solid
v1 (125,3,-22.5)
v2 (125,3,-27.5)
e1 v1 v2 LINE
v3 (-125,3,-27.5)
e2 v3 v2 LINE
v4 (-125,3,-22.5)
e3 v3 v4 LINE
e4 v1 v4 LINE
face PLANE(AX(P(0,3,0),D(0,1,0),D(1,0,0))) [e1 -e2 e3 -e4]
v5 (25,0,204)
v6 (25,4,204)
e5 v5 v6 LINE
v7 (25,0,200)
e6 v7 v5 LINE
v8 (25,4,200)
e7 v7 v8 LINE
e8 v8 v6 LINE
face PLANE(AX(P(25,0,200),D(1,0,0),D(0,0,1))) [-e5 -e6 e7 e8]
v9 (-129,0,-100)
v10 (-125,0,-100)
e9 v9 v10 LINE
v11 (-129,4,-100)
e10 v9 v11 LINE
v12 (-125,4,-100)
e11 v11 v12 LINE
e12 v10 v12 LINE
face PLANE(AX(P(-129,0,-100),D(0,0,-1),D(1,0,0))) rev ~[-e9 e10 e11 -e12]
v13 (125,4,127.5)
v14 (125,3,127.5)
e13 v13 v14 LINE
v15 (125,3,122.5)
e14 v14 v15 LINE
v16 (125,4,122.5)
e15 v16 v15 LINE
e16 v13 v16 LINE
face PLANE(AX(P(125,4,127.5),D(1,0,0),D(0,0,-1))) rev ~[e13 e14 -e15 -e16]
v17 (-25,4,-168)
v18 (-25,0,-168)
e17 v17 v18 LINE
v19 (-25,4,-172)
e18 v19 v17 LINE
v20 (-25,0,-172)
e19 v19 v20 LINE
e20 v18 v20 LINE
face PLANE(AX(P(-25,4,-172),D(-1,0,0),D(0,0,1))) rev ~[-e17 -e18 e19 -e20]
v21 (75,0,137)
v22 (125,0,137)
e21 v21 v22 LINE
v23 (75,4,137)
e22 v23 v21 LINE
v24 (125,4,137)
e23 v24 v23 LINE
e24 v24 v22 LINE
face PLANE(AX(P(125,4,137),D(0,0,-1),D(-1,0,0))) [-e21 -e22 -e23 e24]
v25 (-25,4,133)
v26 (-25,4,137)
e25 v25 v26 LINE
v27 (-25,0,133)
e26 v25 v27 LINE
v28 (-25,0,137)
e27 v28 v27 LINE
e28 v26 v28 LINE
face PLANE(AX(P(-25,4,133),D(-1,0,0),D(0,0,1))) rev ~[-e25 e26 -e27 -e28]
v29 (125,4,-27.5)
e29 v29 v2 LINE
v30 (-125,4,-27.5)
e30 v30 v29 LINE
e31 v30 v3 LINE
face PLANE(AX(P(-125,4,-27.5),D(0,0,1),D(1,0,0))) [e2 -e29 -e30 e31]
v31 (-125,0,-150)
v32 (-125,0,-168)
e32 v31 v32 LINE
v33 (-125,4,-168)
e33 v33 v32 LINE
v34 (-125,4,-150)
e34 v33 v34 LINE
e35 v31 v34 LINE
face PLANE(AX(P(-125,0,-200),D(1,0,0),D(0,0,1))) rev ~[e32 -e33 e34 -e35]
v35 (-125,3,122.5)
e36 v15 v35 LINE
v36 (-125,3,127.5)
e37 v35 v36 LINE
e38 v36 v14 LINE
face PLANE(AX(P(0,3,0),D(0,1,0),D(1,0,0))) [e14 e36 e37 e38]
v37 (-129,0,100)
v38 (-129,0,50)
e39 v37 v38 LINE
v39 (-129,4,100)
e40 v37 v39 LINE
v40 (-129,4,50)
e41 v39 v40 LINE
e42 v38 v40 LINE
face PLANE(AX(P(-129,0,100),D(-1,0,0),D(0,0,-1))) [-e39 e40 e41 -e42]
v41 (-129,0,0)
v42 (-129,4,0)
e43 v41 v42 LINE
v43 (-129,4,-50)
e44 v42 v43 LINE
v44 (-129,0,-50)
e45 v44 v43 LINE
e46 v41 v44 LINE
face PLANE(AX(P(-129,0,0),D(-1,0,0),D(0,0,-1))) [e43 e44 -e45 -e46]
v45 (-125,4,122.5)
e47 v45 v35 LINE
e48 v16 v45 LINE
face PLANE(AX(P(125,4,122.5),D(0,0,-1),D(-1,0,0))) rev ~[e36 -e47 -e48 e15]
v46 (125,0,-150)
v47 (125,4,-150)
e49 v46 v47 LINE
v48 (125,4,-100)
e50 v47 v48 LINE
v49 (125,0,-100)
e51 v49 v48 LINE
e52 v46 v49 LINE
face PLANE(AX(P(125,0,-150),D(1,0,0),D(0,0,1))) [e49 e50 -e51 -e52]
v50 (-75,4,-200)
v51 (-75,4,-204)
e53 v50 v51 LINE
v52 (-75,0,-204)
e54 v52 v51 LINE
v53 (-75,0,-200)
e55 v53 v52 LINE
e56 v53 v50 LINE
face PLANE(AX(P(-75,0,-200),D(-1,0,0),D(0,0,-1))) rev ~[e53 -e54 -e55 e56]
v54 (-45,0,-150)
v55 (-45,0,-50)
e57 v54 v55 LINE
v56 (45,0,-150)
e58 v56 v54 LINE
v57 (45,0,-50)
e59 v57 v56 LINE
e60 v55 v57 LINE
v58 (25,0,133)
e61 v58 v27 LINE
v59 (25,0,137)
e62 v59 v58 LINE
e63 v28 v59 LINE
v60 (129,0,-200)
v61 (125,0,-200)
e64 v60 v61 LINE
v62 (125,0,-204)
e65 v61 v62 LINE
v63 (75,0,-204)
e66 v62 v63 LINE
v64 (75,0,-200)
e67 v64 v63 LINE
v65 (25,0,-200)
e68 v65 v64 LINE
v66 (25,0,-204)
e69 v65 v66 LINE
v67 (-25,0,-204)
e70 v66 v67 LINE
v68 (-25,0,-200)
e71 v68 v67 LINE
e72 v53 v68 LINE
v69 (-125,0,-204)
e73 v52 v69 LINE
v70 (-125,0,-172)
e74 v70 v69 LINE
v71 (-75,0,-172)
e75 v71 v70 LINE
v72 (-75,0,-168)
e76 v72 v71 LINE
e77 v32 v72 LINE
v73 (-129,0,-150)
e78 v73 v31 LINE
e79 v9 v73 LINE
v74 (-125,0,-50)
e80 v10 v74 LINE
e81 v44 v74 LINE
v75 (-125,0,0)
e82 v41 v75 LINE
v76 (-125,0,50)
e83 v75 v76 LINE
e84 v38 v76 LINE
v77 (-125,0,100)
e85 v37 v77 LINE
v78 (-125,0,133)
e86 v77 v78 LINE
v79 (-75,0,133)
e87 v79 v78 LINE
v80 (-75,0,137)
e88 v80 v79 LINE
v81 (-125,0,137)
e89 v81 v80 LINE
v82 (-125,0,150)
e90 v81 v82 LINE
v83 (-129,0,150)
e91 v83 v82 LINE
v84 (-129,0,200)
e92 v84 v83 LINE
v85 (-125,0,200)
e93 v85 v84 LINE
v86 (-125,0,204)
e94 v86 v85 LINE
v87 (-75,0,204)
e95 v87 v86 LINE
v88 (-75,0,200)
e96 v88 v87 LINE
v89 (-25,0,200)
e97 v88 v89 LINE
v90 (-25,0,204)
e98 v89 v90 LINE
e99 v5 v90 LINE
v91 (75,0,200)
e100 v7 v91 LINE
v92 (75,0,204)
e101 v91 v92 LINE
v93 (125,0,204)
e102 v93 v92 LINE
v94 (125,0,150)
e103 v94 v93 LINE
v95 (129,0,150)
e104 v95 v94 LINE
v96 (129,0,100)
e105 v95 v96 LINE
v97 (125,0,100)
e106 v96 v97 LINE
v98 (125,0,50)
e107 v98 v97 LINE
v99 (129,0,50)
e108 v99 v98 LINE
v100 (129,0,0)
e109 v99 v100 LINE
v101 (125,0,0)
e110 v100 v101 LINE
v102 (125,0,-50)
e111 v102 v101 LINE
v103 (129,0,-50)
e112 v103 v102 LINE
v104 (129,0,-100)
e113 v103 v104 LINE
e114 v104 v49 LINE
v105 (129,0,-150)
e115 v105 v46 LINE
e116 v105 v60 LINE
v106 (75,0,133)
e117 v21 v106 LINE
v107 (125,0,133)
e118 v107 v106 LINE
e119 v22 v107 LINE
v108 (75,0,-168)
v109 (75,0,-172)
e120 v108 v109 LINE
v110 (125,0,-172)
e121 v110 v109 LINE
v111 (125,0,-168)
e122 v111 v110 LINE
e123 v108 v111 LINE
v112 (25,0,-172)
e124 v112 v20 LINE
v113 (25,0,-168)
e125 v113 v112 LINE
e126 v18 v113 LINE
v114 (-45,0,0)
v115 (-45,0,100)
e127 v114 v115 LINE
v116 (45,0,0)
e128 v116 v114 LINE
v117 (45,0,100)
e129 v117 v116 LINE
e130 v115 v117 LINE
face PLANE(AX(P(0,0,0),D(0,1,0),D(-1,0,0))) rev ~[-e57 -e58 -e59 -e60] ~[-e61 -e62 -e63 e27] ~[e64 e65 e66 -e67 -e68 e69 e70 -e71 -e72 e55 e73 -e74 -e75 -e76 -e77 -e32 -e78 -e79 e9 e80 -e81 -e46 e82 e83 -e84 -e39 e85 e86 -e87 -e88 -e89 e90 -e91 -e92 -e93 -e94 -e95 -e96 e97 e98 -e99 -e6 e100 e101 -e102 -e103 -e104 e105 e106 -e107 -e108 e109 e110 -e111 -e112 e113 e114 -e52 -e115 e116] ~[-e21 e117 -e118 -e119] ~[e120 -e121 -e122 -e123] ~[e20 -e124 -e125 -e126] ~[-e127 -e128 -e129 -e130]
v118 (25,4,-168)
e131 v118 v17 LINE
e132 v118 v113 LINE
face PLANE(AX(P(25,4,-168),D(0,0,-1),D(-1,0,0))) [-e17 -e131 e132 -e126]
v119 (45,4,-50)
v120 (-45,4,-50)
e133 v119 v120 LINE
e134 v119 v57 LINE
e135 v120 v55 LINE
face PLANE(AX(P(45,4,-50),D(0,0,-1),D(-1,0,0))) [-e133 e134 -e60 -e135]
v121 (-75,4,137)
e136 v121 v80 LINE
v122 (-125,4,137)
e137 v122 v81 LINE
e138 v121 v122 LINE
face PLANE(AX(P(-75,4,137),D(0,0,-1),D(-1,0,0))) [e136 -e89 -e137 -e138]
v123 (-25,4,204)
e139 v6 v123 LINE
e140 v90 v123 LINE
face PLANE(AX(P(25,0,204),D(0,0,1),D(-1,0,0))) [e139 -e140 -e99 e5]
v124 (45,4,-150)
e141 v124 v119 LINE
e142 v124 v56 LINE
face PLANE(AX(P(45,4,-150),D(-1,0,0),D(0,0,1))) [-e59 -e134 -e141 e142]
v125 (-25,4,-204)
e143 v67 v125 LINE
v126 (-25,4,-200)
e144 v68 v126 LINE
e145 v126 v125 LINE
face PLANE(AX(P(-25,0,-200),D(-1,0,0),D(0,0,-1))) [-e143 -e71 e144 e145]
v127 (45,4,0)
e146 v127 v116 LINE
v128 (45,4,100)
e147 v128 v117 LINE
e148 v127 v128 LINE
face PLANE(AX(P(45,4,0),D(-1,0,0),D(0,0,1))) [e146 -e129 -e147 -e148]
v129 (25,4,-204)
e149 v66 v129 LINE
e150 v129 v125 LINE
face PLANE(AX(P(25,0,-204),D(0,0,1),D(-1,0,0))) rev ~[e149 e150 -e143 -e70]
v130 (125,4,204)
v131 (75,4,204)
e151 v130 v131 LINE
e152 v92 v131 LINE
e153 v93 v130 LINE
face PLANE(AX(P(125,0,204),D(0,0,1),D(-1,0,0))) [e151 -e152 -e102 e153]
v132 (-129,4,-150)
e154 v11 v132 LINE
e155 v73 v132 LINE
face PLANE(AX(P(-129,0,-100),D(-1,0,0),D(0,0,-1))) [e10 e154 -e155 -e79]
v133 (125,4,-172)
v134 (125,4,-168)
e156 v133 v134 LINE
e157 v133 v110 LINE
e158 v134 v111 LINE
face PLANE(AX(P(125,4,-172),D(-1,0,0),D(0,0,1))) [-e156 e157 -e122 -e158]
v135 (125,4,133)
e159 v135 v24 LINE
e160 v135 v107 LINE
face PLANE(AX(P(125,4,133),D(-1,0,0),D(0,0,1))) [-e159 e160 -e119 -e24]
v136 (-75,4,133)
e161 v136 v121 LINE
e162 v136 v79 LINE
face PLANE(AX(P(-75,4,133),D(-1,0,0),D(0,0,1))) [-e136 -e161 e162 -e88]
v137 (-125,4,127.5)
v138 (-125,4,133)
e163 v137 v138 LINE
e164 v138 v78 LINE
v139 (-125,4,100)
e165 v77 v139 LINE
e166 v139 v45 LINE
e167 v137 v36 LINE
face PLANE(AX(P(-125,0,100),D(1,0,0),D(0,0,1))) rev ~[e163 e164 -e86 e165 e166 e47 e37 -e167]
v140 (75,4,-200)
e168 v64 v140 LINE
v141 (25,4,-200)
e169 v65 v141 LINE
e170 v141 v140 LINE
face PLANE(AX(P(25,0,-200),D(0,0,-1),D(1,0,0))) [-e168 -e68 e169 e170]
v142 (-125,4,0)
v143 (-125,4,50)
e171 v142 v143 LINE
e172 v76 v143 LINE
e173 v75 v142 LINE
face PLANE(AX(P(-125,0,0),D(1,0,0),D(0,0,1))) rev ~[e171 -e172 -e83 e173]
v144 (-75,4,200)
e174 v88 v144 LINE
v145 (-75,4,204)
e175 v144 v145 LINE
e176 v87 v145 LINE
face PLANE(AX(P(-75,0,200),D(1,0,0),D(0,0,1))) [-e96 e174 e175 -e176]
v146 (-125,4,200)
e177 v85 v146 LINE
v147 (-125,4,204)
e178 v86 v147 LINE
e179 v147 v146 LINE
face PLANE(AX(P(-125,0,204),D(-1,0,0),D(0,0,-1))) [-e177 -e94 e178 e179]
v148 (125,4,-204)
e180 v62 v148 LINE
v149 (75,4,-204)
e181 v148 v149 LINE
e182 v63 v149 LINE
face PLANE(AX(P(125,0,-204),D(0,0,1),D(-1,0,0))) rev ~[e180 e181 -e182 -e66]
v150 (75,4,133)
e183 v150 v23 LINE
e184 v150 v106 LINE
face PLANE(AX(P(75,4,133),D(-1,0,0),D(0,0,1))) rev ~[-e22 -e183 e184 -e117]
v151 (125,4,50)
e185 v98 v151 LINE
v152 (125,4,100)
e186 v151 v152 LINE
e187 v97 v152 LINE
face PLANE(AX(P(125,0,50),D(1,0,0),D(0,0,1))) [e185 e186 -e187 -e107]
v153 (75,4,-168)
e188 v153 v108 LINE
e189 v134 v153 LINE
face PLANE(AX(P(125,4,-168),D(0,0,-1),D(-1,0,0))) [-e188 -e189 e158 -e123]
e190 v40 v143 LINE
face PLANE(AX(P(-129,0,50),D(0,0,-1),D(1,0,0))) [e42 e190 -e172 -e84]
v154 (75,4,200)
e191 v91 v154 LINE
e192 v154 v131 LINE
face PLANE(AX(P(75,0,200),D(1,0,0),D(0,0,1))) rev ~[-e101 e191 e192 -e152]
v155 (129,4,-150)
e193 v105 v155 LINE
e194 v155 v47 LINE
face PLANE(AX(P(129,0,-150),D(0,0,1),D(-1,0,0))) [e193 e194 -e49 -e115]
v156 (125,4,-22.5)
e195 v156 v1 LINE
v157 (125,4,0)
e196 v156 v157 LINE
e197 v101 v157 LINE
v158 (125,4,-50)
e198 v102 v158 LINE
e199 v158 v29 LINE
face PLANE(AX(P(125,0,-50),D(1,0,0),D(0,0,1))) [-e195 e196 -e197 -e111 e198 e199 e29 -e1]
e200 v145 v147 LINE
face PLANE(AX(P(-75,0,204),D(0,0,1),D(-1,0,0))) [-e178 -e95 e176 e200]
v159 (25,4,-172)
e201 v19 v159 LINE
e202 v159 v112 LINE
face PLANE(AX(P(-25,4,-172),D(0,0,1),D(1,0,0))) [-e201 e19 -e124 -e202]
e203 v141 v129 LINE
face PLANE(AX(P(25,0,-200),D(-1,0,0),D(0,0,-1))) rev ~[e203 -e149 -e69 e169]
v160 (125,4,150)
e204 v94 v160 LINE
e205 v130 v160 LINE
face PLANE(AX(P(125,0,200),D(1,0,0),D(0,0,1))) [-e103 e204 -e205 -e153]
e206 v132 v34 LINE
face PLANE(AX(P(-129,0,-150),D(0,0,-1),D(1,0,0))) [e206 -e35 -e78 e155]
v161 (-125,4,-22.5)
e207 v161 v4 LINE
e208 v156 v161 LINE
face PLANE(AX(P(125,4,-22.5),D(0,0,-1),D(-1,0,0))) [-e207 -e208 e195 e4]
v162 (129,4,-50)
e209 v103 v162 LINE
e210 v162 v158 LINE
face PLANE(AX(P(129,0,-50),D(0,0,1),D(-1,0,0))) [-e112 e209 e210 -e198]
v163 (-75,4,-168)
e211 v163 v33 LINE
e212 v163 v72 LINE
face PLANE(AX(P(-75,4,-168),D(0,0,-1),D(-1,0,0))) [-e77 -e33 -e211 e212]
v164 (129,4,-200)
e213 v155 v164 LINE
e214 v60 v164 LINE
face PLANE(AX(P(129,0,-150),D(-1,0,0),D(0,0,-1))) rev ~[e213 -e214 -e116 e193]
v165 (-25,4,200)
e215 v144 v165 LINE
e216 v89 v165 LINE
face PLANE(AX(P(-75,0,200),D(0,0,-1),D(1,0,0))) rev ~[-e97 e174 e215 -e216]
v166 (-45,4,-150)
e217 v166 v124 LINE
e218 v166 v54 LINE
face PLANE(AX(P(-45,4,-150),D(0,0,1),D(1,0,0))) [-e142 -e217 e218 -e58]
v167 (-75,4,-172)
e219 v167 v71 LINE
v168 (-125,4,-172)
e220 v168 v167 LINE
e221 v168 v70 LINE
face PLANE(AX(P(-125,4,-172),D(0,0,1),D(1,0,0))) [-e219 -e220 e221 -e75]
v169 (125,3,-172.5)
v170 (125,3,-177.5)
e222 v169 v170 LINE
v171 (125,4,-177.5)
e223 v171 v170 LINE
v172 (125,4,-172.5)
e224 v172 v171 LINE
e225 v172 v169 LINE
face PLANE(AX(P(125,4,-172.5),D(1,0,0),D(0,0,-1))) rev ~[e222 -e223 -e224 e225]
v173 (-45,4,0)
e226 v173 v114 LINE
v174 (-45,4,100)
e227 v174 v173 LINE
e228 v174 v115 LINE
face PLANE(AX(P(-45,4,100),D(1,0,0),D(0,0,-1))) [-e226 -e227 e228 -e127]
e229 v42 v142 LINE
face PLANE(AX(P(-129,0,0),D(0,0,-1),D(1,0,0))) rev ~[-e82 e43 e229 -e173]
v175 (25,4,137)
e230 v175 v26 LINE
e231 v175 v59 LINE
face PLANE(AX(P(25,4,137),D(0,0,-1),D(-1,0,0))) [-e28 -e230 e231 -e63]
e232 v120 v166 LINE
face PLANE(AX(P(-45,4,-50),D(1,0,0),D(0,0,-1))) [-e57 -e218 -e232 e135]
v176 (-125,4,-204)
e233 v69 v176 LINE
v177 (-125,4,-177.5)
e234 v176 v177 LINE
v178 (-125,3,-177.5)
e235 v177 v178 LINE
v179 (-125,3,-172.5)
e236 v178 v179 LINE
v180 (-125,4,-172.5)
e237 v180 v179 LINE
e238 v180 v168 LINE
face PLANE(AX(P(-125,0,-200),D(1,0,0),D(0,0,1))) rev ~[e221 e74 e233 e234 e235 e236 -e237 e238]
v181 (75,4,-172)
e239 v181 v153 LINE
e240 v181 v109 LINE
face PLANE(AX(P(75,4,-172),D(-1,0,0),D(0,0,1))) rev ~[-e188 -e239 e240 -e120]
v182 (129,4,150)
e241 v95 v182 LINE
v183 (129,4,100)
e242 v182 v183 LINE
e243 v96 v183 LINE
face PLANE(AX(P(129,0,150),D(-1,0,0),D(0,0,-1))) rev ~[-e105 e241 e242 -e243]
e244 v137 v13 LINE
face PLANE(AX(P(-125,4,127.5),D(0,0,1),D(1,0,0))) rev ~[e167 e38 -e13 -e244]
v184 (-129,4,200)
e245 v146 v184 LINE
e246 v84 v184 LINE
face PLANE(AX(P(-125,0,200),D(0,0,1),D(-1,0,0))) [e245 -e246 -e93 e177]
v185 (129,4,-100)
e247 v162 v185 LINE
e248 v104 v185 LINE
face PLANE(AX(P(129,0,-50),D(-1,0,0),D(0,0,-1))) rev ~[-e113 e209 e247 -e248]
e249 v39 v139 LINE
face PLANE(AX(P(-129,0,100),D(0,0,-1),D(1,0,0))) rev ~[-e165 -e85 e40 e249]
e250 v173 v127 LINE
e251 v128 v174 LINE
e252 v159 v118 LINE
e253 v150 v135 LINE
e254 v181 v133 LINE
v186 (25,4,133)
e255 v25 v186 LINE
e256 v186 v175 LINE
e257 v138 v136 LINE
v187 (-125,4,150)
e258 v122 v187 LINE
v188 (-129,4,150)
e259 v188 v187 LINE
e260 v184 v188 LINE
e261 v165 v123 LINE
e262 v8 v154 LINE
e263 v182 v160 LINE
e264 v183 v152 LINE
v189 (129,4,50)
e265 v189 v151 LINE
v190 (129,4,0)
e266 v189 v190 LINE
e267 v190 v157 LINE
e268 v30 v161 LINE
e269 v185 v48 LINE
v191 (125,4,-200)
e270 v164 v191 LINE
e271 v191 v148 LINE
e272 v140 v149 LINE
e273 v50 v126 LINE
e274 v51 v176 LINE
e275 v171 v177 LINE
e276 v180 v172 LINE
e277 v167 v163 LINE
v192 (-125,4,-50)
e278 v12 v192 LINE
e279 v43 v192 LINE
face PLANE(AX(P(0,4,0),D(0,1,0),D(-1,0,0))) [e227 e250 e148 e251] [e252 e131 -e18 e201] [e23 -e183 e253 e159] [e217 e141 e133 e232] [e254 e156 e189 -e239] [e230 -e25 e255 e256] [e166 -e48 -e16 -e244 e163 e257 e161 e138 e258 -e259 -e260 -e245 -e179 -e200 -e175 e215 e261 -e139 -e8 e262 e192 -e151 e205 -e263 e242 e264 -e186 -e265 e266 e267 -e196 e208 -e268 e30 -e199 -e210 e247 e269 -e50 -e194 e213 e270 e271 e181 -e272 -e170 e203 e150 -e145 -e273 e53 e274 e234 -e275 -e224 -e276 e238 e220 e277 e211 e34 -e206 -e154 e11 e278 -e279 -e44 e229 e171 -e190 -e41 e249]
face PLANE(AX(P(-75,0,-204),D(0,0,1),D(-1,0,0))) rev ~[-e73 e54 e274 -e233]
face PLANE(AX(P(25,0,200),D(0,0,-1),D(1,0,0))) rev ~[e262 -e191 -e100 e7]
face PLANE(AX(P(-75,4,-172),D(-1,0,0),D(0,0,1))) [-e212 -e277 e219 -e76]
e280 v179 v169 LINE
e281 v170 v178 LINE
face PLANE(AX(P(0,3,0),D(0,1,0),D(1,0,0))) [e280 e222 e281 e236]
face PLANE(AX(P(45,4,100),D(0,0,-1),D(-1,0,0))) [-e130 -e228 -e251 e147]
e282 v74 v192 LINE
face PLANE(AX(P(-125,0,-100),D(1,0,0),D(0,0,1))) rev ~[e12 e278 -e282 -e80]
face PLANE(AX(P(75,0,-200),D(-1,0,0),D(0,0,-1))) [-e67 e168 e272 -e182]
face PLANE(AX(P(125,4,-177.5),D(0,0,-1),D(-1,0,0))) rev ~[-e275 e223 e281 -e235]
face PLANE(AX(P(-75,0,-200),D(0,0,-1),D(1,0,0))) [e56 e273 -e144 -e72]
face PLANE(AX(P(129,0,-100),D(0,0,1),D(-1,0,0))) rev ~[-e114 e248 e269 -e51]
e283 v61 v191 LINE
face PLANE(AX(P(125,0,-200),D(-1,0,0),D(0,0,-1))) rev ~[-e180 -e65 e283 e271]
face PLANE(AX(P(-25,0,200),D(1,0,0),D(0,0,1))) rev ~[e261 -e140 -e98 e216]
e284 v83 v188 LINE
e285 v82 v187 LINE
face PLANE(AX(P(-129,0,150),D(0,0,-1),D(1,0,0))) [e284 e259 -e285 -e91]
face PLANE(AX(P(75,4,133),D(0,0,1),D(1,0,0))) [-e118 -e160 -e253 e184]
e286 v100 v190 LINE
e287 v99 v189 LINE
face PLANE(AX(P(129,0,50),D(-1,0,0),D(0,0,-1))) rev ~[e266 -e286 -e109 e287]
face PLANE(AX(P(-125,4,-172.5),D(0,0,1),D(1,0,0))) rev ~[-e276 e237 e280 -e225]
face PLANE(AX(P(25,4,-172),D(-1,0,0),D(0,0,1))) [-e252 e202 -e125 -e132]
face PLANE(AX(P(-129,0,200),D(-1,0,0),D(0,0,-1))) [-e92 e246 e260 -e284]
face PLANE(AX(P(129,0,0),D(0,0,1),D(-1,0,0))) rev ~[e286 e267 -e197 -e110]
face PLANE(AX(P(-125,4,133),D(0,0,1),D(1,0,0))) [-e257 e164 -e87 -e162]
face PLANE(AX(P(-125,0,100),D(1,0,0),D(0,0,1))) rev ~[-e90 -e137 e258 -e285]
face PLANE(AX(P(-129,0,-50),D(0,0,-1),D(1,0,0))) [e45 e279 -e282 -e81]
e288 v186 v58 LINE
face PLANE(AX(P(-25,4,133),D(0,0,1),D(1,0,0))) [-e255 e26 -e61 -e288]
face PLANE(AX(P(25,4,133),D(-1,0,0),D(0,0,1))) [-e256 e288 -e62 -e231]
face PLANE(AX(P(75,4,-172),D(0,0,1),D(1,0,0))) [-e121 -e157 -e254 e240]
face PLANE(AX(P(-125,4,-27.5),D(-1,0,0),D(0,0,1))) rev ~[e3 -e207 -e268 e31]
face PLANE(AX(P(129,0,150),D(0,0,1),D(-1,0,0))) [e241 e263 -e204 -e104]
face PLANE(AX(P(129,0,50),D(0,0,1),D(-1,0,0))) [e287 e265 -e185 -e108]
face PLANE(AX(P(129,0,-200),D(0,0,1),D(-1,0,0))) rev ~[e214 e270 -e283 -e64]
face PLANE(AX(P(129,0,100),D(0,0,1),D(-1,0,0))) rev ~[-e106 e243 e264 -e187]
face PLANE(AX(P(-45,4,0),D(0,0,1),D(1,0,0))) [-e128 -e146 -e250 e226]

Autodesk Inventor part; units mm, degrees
ref_plane "YZ Plane" through (0, 0, 0) normal (1, 0, 0) x (0, 1, 0)
ref_plane "XZ Plane" through (0, 0, 0) normal (0, 1, 0) x (-1, 0, 0)
ref_plane "XY Plane" through (0, 0, 0) normal (0, 0, 1) x (1, 0, 0)
sketch "Sketch1" plane through (0, 0, 0) normal (0, 1, 0) x (-1, 0, 0)
  line L0 (-125, 200) -> (125, 200) construction
  line L1 (125, 200) -> (125, -200) construction
  line L2 (125, -200) -> (-125, -200) construction
  line L3 (-125, -200) -> (-125, 200) construction
  line L4 (-125, 200) -> (125, -200) construction
  line L5 (125, 200) -> (-125, -200) construction
  line L6 (125, 200) -> (75, 200) construction
  line L7 (75, 200) -> (75, 204)
  line L8 (75, 204) -> (125, 204)
  line L9 (125, 204) -> (125, 200)
  line L10 (125, 200) -> (129, 200)
  line L11 (129, 200) -> (129, 150)
  line L12 (129, 150) -> (125, 150)
  line L13 (125, 150) -> (125, 200) construction
  line L14 (-125, 200) -> (-129, 200) construction
  line L15 (-129, 200) -> (-129, 150) construction
  line L16 (-129, 150) -> (-125, 150)
  line L17 (-125, 150) -> (-125, 200)
  line L18 (125, -200) -> (75, -200) construction
  line L19 (75, -200) -> (75, -204)
  line L20 (75, -204) -> (125, -204)
  line L21 (125, -204) -> (125, -200)
  line L22 (125, 100) -> (125, 150)
  line L23 (125, 150) -> (129, 150)
  line L24 (129, 100) -> (125, 100)
  line L25 (129, 150) -> (129, 100) construction
  line L26 (-125, 100) -> (-125, 150) construction
  line L27 (-125, 150) -> (-129, 150)
  line L28 (-129, 150) -> (-129, 100)
  line L29 (-129, 100) -> (-125, 100)
  line L30 (125, 50) -> (125, 100) construction
  line L31 (125, 100) -> (129, 100)
  line L32 (129, 50) -> (125, 50)
  line L33 (129, 100) -> (129, 50)
  line L34 (-125, 50) -> (-125, 100)
  line L35 (-125, 100) -> (-129, 100)
  line L36 (-129, 100) -> (-129, 50) construction
  line L37 (-129, 50) -> (-125, 50)
  line L38 (125, 0) -> (125, 50)
  line L39 (125, 50) -> (129, 50)
  line L40 (129, 0) -> (125, 0)
  line L41 (129, 50) -> (129, 0) construction
  line L42 (-125, 0) -> (-125, 50) construction
  line L43 (-125, 50) -> (-129, 50)
  line L44 (-129, 50) -> (-129, 0)
  line L45 (-129, 0) -> (-125, 0)
  line L46 (125, -50) -> (125, 0) construction
  line L47 (125, 0) -> (129, 0)
  line L48 (129, -50) -> (125, -50)
  line L49 (129, 0) -> (129, -50)
  line L50 (-125, -50) -> (-125, 0)
  line L51 (-125, 0) -> (-129, 0)
  line L52 (-129, 0) -> (-129, -50) construction
  line L53 (-129, -50) -> (-125, -50)
  line L54 (125, -100) -> (125, -50)
  line L55 (125, -50) -> (129, -50)
  line L56 (129, -100) -> (125, -100)
  line L57 (129, -50) -> (129, -100) construction
  line L58 (-125, -100) -> (-125, -50) construction
  line L59 (-125, -50) -> (-129, -50)
  line L60 (-129, -50) -> (-129, -100)
  line L61 (-129, -100) -> (-125, -100)
  line L62 (125, -150) -> (125, -100) construction
  line L63 (125, -100) -> (129, -100)
  line L64 (129, -150) -> (125, -150)
  line L65 (129, -100) -> (129, -150)
  line L66 (-125, -150) -> (-125, -100)
  line L67 (-125, -100) -> (-129, -100)
  line L68 (-129, -100) -> (-129, -150) construction
  line L69 (-129, -150) -> (-125, -150)
  line L70 (125, -200) -> (125, -150)
  line L71 (125, -150) -> (129, -150)
  line L72 (129, -200) -> (125, -200) construction
  line L73 (129, -150) -> (129, -200) construction
  line L74 (-125, -200) -> (-125, -150) construction
  line L75 (-125, -150) -> (-129, -150)
  line L76 (-129, -150) -> (-129, -200)
  line L77 (-129, -200) -> (-125, -200)
  line L78 (75, 204) -> (75, 200)
  line L79 (25, 200) -> (25, 204)
  line L80 (25, 204) -> (75, 204) construction
  line L81 (75, 200) -> (25, 200)
  line L82 (75, -200) -> (25, -200)
  line L83 (25, -200) -> (25, -204)
  line L84 (25, -204) -> (75, -204) construction
  line L85 (75, -204) -> (75, -200)
  line L86 (25, 204) -> (25, 200)
  line L87 (-25, 200) -> (-25, 204)
  line L88 (-25, 204) -> (25, 204)
  line L89 (25, 200) -> (-25, 200) construction
  line L90 (25, -200) -> (-25, -200) construction
  line L91 (-25, -200) -> (-25, -204)
  line L92 (-25, -204) -> (25, -204)
  line L93 (25, -204) -> (25, -200)
  line L94 (-25, 204) -> (-25, 200)
  line L95 (-75, 200) -> (-75, 204)
  line L96 (-75, 204) -> (-25, 204) construction
  line L97 (-25, 200) -> (-75, 200)
  line L98 (-25, -200) -> (-75, -200)
  line L99 (-75, -200) -> (-75, -204)
  line L100 (-75, -204) -> (-25, -204) construction
  line L101 (-25, -204) -> (-25, -200)
  line L102 (-75, 204) -> (-75, 200)
  line L103 (-125, 200) -> (-125, 204)
  line L104 (-125, 204) -> (-75, 204)
  line L105 (-75, 200) -> (-125, 200) construction
  line L106 (-75, -200) -> (-125, -200) construction
  line L107 (-125, -200) -> (-125, -204)
  line L108 (-125, -204) -> (-75, -204)
  line L109 (-75, -204) -> (-75, -200)
  point P0 (0, 0)
  dimension "d0" = 250
  dimension "d1" = 400
  dimension "d2" = 50
  dimension "d3" = 4
  dimension "d4" = 4
  dimension "d5" = 50
  dimension "d6" = 4
  dimension "d7" = 50
  dimension "d8" = 50
  dimension "d9" = 4
  dimension "d12" = 50
  dimension "d19" = 50
extrude "Extrusion1" add sketch "Sketch1" along normal blind 4
sketch "Sketch2" plane through (0, 4, 0) normal (0, 1, 0) x (1, 0, 0)
  line L0 (-125, 100) -> (-125, 50) projected
  line L1 (129, 100) -> (125, 100) projected
  line L2 (-125, 100) -> (125, 100) construction
  line L3 (125, -100) -> (125, -50) projected
  line L4 (125, -50) -> (-125, -50) construction
  line L5 (-45, 150) -> (45, 150)
  line L6 (45, 150) -> (45, 50)
  line L7 (45, 50) -> (-45, 50)
  line L8 (-45, 50) -> (-45, 150)
  line L9 (-45, 150) -> (45, 50) construction
  line L10 (45, 150) -> (-45, 50) construction
  line L11 (45, -100) -> (-45, -100)
  line L12 (-45, -100) -> (-45, 0)
  line L13 (-45, 0) -> (45, 0)
  line L14 (45, 0) -> (45, -100)
  line L15 (45, -100) -> (-45, 0) construction
  line L16 (-45, -100) -> (45, 0) construction
  point P0 (0, 0)
  point P1 (0, 100)
  point P2 (0, -50)
  point P3 (0, -50)
  dimension "d26" = 90
  dimension "d27" = 100
  dimension "d28" = 90
  dimension "d29" = 100
extrude "Extrusion2" cut sketch "Sketch2" against normal up to next
sketch "Sketch3" plane through (0, 4, 0) normal (0, 1, 0) x (1, 0, 0)
  line L0 (-129, 50) -> (-129, 0) projected
  line L1 (125, 0) -> (125, 50) projected
  line L2 (-129, 27.5) -> (125, 27.5)
  line L3 (125, 27.5) -> (125, 22.5)
  line L4 (125, 22.5) -> (-129, 22.5)
  line L5 (-129, 22.5) -> (-129, 27.5)
  line L6 (-129, 25) -> (125, 25) construction
  line L7 (-129, 27.5) -> (-125, 27.5)
  line L8 (-125, 27.5) -> (-125, 22.5)
  line L9 (-125, 22.5) -> (-129, 22.5)
  line L10 (-129, 22.5) -> (-129, 27.5)
  line L11 (-125, 0) -> (-125, -50) projected
  point P0 (0, 0)
  point P1 (-125, 27.5)
  point P2 (-125, 22.5)
  dimension "d32" = 5
extrude "Extrusion3" cut sketch "Sketch3" against normal blind 1 contours L2 L1 L4 L8
sketch "Sketch4" plane through (0, 4, 0) normal (0, 1, 0) x (1, 0, 0)
  line L0 (-125, -127.5) -> (125, -127.5)
  line L1 (125, -127.5) -> (125, -122.5)
  line L2 (125, -122.5) -> (-125, -122.5)
  line L3 (-125, -122.5) -> (-125, -127.5)
  line L4 (-125, -127.5) -> (125, -122.5) construction
  line L5 (125, -127.5) -> (-125, -122.5) construction
  line L6 (-125, -100) -> (-125, -150) projected
  line L7 (-125, -125) -> (129, -125) construction
  line L8 (129, -150) -> (129, -100) projected
  line L9 (129, 150) -> (129, 200) projected
  line L10 (129, 175) -> (-125, 175) construction
  line L11 (-125, 204) -> (-125, 150) projected
  line L12 (-125, 172.5) -> (125, 172.5)
  line L13 (125, 172.5) -> (125, 177.5)
  line L14 (125, 177.5) -> (-125, 177.5)
  line L15 (-125, 177.5) -> (-125, 172.5)
  line L16 (-125, 172.5) -> (125, 177.5) construction
  line L17 (125, 172.5) -> (-125, 177.5) construction
  line L18 (125, 100) -> (125, 150) projected
  line L19 (-125, 204) -> (-125, 150) projected
  point P0 (0, 0)
  point P1 (0, -125)
  point P2 (125, -125)
  point P3 (125, -100)
  point P4 (-125, -125)
  point P5 (-125, 22.5)
  point P6 (0, 175)
  dimension "d36" = 5
  dimension "d39" = 5
extrude "Extrusion4" cut sketch "Sketch4" against normal blind 1
sketch "Sketch5" plane through (0, 4, 0) normal (0, 1, 0) x (1, 0, 0)
  line L0 (-125, -133) -> (-75, -133)
  line L1 (-75, -133) -> (-75, -137)
  line L2 (-75, -137) -> (-125, -137)
  line L3 (-125, -137) -> (-125, -133)
  line L4 (-75, -200) -> (-25, -200) projected
  line L5 (-125, -100) -> (-125, -122.5) projected
  line L6 (125, -127.5) -> (-125, -127.5) projected
  line L7 (-75, -133) -> (-25, -133)
  line L8 (-25, -133) -> (-25, -137)
  line L9 (-25, -137) -> (-75, -137)
  line L10 (-75, -137) -> (-75, -133)
  line L11 (-25, -133) -> (25, -133)
  line L12 (25, -133) -> (25, -137)
  line L13 (25, -137) -> (-25, -137)
  line L14 (-25, -137) -> (-25, -133)
  line L15 (25, -133) -> (75, -133)
  line L16 (75, -133) -> (75, -137)
  line L17 (75, -137) -> (25, -137)
  line L18 (25, -137) -> (25, -133)
  line L19 (75, -133) -> (125, -133)
  line L20 (125, -133) -> (125, -137)
  line L21 (125, -137) -> (75, -137)
  line L22 (75, -137) -> (75, -133)
  line L23 (-25, 168) -> (-75, 168)
  line L24 (-75, 172) -> (-25, 172)
  line L25 (-25, 172) -> (-25, 168)
  line L26 (-25, 168) -> (-25, 172)
  line L27 (25, 168) -> (-25, 168)
  line L28 (-25, 172) -> (25, 172)
  line L29 (25, 172) -> (25, 168)
  line L30 (25, 168) -> (25, 172)
  line L31 (25, 172) -> (75, 172)
  line L32 (75, 168) -> (25, 168)
  line L33 (-75, 172) -> (-75, 168)
  line L34 (-75, 168) -> (-75, 172)
  line L35 (-125, 172) -> (-75, 172)
  line L36 (-125, 168) -> (-125, 172)
  line L37 (-75, 168) -> (-125, 168)
  line L38 (75, 172) -> (75, 168)
  line L39 (75, 168) -> (75, 172)
  line L40 (75, 172) -> (125, 172)
  line L41 (125, 172) -> (125, 168)
  line L42 (125, 168) -> (75, 168)
  point P0 (0, 0)
  dimension "d40" = 50
  dimension "d41" = 4
  dimension "d42" = 63
  dimension "d45" = 50
  dimension "d54" = 305
extrude "Extrusion5" cut sketch "Sketch5" against normal up to next contours L0 L1 L2 L3 | L11 L12 L13 L8 | L19 L20 L21 L16 | L25 L28 L29 L27 | L37 L36 L35 L33 | L38 L40 L41 L42
properties part number "DoorFront_V1"
